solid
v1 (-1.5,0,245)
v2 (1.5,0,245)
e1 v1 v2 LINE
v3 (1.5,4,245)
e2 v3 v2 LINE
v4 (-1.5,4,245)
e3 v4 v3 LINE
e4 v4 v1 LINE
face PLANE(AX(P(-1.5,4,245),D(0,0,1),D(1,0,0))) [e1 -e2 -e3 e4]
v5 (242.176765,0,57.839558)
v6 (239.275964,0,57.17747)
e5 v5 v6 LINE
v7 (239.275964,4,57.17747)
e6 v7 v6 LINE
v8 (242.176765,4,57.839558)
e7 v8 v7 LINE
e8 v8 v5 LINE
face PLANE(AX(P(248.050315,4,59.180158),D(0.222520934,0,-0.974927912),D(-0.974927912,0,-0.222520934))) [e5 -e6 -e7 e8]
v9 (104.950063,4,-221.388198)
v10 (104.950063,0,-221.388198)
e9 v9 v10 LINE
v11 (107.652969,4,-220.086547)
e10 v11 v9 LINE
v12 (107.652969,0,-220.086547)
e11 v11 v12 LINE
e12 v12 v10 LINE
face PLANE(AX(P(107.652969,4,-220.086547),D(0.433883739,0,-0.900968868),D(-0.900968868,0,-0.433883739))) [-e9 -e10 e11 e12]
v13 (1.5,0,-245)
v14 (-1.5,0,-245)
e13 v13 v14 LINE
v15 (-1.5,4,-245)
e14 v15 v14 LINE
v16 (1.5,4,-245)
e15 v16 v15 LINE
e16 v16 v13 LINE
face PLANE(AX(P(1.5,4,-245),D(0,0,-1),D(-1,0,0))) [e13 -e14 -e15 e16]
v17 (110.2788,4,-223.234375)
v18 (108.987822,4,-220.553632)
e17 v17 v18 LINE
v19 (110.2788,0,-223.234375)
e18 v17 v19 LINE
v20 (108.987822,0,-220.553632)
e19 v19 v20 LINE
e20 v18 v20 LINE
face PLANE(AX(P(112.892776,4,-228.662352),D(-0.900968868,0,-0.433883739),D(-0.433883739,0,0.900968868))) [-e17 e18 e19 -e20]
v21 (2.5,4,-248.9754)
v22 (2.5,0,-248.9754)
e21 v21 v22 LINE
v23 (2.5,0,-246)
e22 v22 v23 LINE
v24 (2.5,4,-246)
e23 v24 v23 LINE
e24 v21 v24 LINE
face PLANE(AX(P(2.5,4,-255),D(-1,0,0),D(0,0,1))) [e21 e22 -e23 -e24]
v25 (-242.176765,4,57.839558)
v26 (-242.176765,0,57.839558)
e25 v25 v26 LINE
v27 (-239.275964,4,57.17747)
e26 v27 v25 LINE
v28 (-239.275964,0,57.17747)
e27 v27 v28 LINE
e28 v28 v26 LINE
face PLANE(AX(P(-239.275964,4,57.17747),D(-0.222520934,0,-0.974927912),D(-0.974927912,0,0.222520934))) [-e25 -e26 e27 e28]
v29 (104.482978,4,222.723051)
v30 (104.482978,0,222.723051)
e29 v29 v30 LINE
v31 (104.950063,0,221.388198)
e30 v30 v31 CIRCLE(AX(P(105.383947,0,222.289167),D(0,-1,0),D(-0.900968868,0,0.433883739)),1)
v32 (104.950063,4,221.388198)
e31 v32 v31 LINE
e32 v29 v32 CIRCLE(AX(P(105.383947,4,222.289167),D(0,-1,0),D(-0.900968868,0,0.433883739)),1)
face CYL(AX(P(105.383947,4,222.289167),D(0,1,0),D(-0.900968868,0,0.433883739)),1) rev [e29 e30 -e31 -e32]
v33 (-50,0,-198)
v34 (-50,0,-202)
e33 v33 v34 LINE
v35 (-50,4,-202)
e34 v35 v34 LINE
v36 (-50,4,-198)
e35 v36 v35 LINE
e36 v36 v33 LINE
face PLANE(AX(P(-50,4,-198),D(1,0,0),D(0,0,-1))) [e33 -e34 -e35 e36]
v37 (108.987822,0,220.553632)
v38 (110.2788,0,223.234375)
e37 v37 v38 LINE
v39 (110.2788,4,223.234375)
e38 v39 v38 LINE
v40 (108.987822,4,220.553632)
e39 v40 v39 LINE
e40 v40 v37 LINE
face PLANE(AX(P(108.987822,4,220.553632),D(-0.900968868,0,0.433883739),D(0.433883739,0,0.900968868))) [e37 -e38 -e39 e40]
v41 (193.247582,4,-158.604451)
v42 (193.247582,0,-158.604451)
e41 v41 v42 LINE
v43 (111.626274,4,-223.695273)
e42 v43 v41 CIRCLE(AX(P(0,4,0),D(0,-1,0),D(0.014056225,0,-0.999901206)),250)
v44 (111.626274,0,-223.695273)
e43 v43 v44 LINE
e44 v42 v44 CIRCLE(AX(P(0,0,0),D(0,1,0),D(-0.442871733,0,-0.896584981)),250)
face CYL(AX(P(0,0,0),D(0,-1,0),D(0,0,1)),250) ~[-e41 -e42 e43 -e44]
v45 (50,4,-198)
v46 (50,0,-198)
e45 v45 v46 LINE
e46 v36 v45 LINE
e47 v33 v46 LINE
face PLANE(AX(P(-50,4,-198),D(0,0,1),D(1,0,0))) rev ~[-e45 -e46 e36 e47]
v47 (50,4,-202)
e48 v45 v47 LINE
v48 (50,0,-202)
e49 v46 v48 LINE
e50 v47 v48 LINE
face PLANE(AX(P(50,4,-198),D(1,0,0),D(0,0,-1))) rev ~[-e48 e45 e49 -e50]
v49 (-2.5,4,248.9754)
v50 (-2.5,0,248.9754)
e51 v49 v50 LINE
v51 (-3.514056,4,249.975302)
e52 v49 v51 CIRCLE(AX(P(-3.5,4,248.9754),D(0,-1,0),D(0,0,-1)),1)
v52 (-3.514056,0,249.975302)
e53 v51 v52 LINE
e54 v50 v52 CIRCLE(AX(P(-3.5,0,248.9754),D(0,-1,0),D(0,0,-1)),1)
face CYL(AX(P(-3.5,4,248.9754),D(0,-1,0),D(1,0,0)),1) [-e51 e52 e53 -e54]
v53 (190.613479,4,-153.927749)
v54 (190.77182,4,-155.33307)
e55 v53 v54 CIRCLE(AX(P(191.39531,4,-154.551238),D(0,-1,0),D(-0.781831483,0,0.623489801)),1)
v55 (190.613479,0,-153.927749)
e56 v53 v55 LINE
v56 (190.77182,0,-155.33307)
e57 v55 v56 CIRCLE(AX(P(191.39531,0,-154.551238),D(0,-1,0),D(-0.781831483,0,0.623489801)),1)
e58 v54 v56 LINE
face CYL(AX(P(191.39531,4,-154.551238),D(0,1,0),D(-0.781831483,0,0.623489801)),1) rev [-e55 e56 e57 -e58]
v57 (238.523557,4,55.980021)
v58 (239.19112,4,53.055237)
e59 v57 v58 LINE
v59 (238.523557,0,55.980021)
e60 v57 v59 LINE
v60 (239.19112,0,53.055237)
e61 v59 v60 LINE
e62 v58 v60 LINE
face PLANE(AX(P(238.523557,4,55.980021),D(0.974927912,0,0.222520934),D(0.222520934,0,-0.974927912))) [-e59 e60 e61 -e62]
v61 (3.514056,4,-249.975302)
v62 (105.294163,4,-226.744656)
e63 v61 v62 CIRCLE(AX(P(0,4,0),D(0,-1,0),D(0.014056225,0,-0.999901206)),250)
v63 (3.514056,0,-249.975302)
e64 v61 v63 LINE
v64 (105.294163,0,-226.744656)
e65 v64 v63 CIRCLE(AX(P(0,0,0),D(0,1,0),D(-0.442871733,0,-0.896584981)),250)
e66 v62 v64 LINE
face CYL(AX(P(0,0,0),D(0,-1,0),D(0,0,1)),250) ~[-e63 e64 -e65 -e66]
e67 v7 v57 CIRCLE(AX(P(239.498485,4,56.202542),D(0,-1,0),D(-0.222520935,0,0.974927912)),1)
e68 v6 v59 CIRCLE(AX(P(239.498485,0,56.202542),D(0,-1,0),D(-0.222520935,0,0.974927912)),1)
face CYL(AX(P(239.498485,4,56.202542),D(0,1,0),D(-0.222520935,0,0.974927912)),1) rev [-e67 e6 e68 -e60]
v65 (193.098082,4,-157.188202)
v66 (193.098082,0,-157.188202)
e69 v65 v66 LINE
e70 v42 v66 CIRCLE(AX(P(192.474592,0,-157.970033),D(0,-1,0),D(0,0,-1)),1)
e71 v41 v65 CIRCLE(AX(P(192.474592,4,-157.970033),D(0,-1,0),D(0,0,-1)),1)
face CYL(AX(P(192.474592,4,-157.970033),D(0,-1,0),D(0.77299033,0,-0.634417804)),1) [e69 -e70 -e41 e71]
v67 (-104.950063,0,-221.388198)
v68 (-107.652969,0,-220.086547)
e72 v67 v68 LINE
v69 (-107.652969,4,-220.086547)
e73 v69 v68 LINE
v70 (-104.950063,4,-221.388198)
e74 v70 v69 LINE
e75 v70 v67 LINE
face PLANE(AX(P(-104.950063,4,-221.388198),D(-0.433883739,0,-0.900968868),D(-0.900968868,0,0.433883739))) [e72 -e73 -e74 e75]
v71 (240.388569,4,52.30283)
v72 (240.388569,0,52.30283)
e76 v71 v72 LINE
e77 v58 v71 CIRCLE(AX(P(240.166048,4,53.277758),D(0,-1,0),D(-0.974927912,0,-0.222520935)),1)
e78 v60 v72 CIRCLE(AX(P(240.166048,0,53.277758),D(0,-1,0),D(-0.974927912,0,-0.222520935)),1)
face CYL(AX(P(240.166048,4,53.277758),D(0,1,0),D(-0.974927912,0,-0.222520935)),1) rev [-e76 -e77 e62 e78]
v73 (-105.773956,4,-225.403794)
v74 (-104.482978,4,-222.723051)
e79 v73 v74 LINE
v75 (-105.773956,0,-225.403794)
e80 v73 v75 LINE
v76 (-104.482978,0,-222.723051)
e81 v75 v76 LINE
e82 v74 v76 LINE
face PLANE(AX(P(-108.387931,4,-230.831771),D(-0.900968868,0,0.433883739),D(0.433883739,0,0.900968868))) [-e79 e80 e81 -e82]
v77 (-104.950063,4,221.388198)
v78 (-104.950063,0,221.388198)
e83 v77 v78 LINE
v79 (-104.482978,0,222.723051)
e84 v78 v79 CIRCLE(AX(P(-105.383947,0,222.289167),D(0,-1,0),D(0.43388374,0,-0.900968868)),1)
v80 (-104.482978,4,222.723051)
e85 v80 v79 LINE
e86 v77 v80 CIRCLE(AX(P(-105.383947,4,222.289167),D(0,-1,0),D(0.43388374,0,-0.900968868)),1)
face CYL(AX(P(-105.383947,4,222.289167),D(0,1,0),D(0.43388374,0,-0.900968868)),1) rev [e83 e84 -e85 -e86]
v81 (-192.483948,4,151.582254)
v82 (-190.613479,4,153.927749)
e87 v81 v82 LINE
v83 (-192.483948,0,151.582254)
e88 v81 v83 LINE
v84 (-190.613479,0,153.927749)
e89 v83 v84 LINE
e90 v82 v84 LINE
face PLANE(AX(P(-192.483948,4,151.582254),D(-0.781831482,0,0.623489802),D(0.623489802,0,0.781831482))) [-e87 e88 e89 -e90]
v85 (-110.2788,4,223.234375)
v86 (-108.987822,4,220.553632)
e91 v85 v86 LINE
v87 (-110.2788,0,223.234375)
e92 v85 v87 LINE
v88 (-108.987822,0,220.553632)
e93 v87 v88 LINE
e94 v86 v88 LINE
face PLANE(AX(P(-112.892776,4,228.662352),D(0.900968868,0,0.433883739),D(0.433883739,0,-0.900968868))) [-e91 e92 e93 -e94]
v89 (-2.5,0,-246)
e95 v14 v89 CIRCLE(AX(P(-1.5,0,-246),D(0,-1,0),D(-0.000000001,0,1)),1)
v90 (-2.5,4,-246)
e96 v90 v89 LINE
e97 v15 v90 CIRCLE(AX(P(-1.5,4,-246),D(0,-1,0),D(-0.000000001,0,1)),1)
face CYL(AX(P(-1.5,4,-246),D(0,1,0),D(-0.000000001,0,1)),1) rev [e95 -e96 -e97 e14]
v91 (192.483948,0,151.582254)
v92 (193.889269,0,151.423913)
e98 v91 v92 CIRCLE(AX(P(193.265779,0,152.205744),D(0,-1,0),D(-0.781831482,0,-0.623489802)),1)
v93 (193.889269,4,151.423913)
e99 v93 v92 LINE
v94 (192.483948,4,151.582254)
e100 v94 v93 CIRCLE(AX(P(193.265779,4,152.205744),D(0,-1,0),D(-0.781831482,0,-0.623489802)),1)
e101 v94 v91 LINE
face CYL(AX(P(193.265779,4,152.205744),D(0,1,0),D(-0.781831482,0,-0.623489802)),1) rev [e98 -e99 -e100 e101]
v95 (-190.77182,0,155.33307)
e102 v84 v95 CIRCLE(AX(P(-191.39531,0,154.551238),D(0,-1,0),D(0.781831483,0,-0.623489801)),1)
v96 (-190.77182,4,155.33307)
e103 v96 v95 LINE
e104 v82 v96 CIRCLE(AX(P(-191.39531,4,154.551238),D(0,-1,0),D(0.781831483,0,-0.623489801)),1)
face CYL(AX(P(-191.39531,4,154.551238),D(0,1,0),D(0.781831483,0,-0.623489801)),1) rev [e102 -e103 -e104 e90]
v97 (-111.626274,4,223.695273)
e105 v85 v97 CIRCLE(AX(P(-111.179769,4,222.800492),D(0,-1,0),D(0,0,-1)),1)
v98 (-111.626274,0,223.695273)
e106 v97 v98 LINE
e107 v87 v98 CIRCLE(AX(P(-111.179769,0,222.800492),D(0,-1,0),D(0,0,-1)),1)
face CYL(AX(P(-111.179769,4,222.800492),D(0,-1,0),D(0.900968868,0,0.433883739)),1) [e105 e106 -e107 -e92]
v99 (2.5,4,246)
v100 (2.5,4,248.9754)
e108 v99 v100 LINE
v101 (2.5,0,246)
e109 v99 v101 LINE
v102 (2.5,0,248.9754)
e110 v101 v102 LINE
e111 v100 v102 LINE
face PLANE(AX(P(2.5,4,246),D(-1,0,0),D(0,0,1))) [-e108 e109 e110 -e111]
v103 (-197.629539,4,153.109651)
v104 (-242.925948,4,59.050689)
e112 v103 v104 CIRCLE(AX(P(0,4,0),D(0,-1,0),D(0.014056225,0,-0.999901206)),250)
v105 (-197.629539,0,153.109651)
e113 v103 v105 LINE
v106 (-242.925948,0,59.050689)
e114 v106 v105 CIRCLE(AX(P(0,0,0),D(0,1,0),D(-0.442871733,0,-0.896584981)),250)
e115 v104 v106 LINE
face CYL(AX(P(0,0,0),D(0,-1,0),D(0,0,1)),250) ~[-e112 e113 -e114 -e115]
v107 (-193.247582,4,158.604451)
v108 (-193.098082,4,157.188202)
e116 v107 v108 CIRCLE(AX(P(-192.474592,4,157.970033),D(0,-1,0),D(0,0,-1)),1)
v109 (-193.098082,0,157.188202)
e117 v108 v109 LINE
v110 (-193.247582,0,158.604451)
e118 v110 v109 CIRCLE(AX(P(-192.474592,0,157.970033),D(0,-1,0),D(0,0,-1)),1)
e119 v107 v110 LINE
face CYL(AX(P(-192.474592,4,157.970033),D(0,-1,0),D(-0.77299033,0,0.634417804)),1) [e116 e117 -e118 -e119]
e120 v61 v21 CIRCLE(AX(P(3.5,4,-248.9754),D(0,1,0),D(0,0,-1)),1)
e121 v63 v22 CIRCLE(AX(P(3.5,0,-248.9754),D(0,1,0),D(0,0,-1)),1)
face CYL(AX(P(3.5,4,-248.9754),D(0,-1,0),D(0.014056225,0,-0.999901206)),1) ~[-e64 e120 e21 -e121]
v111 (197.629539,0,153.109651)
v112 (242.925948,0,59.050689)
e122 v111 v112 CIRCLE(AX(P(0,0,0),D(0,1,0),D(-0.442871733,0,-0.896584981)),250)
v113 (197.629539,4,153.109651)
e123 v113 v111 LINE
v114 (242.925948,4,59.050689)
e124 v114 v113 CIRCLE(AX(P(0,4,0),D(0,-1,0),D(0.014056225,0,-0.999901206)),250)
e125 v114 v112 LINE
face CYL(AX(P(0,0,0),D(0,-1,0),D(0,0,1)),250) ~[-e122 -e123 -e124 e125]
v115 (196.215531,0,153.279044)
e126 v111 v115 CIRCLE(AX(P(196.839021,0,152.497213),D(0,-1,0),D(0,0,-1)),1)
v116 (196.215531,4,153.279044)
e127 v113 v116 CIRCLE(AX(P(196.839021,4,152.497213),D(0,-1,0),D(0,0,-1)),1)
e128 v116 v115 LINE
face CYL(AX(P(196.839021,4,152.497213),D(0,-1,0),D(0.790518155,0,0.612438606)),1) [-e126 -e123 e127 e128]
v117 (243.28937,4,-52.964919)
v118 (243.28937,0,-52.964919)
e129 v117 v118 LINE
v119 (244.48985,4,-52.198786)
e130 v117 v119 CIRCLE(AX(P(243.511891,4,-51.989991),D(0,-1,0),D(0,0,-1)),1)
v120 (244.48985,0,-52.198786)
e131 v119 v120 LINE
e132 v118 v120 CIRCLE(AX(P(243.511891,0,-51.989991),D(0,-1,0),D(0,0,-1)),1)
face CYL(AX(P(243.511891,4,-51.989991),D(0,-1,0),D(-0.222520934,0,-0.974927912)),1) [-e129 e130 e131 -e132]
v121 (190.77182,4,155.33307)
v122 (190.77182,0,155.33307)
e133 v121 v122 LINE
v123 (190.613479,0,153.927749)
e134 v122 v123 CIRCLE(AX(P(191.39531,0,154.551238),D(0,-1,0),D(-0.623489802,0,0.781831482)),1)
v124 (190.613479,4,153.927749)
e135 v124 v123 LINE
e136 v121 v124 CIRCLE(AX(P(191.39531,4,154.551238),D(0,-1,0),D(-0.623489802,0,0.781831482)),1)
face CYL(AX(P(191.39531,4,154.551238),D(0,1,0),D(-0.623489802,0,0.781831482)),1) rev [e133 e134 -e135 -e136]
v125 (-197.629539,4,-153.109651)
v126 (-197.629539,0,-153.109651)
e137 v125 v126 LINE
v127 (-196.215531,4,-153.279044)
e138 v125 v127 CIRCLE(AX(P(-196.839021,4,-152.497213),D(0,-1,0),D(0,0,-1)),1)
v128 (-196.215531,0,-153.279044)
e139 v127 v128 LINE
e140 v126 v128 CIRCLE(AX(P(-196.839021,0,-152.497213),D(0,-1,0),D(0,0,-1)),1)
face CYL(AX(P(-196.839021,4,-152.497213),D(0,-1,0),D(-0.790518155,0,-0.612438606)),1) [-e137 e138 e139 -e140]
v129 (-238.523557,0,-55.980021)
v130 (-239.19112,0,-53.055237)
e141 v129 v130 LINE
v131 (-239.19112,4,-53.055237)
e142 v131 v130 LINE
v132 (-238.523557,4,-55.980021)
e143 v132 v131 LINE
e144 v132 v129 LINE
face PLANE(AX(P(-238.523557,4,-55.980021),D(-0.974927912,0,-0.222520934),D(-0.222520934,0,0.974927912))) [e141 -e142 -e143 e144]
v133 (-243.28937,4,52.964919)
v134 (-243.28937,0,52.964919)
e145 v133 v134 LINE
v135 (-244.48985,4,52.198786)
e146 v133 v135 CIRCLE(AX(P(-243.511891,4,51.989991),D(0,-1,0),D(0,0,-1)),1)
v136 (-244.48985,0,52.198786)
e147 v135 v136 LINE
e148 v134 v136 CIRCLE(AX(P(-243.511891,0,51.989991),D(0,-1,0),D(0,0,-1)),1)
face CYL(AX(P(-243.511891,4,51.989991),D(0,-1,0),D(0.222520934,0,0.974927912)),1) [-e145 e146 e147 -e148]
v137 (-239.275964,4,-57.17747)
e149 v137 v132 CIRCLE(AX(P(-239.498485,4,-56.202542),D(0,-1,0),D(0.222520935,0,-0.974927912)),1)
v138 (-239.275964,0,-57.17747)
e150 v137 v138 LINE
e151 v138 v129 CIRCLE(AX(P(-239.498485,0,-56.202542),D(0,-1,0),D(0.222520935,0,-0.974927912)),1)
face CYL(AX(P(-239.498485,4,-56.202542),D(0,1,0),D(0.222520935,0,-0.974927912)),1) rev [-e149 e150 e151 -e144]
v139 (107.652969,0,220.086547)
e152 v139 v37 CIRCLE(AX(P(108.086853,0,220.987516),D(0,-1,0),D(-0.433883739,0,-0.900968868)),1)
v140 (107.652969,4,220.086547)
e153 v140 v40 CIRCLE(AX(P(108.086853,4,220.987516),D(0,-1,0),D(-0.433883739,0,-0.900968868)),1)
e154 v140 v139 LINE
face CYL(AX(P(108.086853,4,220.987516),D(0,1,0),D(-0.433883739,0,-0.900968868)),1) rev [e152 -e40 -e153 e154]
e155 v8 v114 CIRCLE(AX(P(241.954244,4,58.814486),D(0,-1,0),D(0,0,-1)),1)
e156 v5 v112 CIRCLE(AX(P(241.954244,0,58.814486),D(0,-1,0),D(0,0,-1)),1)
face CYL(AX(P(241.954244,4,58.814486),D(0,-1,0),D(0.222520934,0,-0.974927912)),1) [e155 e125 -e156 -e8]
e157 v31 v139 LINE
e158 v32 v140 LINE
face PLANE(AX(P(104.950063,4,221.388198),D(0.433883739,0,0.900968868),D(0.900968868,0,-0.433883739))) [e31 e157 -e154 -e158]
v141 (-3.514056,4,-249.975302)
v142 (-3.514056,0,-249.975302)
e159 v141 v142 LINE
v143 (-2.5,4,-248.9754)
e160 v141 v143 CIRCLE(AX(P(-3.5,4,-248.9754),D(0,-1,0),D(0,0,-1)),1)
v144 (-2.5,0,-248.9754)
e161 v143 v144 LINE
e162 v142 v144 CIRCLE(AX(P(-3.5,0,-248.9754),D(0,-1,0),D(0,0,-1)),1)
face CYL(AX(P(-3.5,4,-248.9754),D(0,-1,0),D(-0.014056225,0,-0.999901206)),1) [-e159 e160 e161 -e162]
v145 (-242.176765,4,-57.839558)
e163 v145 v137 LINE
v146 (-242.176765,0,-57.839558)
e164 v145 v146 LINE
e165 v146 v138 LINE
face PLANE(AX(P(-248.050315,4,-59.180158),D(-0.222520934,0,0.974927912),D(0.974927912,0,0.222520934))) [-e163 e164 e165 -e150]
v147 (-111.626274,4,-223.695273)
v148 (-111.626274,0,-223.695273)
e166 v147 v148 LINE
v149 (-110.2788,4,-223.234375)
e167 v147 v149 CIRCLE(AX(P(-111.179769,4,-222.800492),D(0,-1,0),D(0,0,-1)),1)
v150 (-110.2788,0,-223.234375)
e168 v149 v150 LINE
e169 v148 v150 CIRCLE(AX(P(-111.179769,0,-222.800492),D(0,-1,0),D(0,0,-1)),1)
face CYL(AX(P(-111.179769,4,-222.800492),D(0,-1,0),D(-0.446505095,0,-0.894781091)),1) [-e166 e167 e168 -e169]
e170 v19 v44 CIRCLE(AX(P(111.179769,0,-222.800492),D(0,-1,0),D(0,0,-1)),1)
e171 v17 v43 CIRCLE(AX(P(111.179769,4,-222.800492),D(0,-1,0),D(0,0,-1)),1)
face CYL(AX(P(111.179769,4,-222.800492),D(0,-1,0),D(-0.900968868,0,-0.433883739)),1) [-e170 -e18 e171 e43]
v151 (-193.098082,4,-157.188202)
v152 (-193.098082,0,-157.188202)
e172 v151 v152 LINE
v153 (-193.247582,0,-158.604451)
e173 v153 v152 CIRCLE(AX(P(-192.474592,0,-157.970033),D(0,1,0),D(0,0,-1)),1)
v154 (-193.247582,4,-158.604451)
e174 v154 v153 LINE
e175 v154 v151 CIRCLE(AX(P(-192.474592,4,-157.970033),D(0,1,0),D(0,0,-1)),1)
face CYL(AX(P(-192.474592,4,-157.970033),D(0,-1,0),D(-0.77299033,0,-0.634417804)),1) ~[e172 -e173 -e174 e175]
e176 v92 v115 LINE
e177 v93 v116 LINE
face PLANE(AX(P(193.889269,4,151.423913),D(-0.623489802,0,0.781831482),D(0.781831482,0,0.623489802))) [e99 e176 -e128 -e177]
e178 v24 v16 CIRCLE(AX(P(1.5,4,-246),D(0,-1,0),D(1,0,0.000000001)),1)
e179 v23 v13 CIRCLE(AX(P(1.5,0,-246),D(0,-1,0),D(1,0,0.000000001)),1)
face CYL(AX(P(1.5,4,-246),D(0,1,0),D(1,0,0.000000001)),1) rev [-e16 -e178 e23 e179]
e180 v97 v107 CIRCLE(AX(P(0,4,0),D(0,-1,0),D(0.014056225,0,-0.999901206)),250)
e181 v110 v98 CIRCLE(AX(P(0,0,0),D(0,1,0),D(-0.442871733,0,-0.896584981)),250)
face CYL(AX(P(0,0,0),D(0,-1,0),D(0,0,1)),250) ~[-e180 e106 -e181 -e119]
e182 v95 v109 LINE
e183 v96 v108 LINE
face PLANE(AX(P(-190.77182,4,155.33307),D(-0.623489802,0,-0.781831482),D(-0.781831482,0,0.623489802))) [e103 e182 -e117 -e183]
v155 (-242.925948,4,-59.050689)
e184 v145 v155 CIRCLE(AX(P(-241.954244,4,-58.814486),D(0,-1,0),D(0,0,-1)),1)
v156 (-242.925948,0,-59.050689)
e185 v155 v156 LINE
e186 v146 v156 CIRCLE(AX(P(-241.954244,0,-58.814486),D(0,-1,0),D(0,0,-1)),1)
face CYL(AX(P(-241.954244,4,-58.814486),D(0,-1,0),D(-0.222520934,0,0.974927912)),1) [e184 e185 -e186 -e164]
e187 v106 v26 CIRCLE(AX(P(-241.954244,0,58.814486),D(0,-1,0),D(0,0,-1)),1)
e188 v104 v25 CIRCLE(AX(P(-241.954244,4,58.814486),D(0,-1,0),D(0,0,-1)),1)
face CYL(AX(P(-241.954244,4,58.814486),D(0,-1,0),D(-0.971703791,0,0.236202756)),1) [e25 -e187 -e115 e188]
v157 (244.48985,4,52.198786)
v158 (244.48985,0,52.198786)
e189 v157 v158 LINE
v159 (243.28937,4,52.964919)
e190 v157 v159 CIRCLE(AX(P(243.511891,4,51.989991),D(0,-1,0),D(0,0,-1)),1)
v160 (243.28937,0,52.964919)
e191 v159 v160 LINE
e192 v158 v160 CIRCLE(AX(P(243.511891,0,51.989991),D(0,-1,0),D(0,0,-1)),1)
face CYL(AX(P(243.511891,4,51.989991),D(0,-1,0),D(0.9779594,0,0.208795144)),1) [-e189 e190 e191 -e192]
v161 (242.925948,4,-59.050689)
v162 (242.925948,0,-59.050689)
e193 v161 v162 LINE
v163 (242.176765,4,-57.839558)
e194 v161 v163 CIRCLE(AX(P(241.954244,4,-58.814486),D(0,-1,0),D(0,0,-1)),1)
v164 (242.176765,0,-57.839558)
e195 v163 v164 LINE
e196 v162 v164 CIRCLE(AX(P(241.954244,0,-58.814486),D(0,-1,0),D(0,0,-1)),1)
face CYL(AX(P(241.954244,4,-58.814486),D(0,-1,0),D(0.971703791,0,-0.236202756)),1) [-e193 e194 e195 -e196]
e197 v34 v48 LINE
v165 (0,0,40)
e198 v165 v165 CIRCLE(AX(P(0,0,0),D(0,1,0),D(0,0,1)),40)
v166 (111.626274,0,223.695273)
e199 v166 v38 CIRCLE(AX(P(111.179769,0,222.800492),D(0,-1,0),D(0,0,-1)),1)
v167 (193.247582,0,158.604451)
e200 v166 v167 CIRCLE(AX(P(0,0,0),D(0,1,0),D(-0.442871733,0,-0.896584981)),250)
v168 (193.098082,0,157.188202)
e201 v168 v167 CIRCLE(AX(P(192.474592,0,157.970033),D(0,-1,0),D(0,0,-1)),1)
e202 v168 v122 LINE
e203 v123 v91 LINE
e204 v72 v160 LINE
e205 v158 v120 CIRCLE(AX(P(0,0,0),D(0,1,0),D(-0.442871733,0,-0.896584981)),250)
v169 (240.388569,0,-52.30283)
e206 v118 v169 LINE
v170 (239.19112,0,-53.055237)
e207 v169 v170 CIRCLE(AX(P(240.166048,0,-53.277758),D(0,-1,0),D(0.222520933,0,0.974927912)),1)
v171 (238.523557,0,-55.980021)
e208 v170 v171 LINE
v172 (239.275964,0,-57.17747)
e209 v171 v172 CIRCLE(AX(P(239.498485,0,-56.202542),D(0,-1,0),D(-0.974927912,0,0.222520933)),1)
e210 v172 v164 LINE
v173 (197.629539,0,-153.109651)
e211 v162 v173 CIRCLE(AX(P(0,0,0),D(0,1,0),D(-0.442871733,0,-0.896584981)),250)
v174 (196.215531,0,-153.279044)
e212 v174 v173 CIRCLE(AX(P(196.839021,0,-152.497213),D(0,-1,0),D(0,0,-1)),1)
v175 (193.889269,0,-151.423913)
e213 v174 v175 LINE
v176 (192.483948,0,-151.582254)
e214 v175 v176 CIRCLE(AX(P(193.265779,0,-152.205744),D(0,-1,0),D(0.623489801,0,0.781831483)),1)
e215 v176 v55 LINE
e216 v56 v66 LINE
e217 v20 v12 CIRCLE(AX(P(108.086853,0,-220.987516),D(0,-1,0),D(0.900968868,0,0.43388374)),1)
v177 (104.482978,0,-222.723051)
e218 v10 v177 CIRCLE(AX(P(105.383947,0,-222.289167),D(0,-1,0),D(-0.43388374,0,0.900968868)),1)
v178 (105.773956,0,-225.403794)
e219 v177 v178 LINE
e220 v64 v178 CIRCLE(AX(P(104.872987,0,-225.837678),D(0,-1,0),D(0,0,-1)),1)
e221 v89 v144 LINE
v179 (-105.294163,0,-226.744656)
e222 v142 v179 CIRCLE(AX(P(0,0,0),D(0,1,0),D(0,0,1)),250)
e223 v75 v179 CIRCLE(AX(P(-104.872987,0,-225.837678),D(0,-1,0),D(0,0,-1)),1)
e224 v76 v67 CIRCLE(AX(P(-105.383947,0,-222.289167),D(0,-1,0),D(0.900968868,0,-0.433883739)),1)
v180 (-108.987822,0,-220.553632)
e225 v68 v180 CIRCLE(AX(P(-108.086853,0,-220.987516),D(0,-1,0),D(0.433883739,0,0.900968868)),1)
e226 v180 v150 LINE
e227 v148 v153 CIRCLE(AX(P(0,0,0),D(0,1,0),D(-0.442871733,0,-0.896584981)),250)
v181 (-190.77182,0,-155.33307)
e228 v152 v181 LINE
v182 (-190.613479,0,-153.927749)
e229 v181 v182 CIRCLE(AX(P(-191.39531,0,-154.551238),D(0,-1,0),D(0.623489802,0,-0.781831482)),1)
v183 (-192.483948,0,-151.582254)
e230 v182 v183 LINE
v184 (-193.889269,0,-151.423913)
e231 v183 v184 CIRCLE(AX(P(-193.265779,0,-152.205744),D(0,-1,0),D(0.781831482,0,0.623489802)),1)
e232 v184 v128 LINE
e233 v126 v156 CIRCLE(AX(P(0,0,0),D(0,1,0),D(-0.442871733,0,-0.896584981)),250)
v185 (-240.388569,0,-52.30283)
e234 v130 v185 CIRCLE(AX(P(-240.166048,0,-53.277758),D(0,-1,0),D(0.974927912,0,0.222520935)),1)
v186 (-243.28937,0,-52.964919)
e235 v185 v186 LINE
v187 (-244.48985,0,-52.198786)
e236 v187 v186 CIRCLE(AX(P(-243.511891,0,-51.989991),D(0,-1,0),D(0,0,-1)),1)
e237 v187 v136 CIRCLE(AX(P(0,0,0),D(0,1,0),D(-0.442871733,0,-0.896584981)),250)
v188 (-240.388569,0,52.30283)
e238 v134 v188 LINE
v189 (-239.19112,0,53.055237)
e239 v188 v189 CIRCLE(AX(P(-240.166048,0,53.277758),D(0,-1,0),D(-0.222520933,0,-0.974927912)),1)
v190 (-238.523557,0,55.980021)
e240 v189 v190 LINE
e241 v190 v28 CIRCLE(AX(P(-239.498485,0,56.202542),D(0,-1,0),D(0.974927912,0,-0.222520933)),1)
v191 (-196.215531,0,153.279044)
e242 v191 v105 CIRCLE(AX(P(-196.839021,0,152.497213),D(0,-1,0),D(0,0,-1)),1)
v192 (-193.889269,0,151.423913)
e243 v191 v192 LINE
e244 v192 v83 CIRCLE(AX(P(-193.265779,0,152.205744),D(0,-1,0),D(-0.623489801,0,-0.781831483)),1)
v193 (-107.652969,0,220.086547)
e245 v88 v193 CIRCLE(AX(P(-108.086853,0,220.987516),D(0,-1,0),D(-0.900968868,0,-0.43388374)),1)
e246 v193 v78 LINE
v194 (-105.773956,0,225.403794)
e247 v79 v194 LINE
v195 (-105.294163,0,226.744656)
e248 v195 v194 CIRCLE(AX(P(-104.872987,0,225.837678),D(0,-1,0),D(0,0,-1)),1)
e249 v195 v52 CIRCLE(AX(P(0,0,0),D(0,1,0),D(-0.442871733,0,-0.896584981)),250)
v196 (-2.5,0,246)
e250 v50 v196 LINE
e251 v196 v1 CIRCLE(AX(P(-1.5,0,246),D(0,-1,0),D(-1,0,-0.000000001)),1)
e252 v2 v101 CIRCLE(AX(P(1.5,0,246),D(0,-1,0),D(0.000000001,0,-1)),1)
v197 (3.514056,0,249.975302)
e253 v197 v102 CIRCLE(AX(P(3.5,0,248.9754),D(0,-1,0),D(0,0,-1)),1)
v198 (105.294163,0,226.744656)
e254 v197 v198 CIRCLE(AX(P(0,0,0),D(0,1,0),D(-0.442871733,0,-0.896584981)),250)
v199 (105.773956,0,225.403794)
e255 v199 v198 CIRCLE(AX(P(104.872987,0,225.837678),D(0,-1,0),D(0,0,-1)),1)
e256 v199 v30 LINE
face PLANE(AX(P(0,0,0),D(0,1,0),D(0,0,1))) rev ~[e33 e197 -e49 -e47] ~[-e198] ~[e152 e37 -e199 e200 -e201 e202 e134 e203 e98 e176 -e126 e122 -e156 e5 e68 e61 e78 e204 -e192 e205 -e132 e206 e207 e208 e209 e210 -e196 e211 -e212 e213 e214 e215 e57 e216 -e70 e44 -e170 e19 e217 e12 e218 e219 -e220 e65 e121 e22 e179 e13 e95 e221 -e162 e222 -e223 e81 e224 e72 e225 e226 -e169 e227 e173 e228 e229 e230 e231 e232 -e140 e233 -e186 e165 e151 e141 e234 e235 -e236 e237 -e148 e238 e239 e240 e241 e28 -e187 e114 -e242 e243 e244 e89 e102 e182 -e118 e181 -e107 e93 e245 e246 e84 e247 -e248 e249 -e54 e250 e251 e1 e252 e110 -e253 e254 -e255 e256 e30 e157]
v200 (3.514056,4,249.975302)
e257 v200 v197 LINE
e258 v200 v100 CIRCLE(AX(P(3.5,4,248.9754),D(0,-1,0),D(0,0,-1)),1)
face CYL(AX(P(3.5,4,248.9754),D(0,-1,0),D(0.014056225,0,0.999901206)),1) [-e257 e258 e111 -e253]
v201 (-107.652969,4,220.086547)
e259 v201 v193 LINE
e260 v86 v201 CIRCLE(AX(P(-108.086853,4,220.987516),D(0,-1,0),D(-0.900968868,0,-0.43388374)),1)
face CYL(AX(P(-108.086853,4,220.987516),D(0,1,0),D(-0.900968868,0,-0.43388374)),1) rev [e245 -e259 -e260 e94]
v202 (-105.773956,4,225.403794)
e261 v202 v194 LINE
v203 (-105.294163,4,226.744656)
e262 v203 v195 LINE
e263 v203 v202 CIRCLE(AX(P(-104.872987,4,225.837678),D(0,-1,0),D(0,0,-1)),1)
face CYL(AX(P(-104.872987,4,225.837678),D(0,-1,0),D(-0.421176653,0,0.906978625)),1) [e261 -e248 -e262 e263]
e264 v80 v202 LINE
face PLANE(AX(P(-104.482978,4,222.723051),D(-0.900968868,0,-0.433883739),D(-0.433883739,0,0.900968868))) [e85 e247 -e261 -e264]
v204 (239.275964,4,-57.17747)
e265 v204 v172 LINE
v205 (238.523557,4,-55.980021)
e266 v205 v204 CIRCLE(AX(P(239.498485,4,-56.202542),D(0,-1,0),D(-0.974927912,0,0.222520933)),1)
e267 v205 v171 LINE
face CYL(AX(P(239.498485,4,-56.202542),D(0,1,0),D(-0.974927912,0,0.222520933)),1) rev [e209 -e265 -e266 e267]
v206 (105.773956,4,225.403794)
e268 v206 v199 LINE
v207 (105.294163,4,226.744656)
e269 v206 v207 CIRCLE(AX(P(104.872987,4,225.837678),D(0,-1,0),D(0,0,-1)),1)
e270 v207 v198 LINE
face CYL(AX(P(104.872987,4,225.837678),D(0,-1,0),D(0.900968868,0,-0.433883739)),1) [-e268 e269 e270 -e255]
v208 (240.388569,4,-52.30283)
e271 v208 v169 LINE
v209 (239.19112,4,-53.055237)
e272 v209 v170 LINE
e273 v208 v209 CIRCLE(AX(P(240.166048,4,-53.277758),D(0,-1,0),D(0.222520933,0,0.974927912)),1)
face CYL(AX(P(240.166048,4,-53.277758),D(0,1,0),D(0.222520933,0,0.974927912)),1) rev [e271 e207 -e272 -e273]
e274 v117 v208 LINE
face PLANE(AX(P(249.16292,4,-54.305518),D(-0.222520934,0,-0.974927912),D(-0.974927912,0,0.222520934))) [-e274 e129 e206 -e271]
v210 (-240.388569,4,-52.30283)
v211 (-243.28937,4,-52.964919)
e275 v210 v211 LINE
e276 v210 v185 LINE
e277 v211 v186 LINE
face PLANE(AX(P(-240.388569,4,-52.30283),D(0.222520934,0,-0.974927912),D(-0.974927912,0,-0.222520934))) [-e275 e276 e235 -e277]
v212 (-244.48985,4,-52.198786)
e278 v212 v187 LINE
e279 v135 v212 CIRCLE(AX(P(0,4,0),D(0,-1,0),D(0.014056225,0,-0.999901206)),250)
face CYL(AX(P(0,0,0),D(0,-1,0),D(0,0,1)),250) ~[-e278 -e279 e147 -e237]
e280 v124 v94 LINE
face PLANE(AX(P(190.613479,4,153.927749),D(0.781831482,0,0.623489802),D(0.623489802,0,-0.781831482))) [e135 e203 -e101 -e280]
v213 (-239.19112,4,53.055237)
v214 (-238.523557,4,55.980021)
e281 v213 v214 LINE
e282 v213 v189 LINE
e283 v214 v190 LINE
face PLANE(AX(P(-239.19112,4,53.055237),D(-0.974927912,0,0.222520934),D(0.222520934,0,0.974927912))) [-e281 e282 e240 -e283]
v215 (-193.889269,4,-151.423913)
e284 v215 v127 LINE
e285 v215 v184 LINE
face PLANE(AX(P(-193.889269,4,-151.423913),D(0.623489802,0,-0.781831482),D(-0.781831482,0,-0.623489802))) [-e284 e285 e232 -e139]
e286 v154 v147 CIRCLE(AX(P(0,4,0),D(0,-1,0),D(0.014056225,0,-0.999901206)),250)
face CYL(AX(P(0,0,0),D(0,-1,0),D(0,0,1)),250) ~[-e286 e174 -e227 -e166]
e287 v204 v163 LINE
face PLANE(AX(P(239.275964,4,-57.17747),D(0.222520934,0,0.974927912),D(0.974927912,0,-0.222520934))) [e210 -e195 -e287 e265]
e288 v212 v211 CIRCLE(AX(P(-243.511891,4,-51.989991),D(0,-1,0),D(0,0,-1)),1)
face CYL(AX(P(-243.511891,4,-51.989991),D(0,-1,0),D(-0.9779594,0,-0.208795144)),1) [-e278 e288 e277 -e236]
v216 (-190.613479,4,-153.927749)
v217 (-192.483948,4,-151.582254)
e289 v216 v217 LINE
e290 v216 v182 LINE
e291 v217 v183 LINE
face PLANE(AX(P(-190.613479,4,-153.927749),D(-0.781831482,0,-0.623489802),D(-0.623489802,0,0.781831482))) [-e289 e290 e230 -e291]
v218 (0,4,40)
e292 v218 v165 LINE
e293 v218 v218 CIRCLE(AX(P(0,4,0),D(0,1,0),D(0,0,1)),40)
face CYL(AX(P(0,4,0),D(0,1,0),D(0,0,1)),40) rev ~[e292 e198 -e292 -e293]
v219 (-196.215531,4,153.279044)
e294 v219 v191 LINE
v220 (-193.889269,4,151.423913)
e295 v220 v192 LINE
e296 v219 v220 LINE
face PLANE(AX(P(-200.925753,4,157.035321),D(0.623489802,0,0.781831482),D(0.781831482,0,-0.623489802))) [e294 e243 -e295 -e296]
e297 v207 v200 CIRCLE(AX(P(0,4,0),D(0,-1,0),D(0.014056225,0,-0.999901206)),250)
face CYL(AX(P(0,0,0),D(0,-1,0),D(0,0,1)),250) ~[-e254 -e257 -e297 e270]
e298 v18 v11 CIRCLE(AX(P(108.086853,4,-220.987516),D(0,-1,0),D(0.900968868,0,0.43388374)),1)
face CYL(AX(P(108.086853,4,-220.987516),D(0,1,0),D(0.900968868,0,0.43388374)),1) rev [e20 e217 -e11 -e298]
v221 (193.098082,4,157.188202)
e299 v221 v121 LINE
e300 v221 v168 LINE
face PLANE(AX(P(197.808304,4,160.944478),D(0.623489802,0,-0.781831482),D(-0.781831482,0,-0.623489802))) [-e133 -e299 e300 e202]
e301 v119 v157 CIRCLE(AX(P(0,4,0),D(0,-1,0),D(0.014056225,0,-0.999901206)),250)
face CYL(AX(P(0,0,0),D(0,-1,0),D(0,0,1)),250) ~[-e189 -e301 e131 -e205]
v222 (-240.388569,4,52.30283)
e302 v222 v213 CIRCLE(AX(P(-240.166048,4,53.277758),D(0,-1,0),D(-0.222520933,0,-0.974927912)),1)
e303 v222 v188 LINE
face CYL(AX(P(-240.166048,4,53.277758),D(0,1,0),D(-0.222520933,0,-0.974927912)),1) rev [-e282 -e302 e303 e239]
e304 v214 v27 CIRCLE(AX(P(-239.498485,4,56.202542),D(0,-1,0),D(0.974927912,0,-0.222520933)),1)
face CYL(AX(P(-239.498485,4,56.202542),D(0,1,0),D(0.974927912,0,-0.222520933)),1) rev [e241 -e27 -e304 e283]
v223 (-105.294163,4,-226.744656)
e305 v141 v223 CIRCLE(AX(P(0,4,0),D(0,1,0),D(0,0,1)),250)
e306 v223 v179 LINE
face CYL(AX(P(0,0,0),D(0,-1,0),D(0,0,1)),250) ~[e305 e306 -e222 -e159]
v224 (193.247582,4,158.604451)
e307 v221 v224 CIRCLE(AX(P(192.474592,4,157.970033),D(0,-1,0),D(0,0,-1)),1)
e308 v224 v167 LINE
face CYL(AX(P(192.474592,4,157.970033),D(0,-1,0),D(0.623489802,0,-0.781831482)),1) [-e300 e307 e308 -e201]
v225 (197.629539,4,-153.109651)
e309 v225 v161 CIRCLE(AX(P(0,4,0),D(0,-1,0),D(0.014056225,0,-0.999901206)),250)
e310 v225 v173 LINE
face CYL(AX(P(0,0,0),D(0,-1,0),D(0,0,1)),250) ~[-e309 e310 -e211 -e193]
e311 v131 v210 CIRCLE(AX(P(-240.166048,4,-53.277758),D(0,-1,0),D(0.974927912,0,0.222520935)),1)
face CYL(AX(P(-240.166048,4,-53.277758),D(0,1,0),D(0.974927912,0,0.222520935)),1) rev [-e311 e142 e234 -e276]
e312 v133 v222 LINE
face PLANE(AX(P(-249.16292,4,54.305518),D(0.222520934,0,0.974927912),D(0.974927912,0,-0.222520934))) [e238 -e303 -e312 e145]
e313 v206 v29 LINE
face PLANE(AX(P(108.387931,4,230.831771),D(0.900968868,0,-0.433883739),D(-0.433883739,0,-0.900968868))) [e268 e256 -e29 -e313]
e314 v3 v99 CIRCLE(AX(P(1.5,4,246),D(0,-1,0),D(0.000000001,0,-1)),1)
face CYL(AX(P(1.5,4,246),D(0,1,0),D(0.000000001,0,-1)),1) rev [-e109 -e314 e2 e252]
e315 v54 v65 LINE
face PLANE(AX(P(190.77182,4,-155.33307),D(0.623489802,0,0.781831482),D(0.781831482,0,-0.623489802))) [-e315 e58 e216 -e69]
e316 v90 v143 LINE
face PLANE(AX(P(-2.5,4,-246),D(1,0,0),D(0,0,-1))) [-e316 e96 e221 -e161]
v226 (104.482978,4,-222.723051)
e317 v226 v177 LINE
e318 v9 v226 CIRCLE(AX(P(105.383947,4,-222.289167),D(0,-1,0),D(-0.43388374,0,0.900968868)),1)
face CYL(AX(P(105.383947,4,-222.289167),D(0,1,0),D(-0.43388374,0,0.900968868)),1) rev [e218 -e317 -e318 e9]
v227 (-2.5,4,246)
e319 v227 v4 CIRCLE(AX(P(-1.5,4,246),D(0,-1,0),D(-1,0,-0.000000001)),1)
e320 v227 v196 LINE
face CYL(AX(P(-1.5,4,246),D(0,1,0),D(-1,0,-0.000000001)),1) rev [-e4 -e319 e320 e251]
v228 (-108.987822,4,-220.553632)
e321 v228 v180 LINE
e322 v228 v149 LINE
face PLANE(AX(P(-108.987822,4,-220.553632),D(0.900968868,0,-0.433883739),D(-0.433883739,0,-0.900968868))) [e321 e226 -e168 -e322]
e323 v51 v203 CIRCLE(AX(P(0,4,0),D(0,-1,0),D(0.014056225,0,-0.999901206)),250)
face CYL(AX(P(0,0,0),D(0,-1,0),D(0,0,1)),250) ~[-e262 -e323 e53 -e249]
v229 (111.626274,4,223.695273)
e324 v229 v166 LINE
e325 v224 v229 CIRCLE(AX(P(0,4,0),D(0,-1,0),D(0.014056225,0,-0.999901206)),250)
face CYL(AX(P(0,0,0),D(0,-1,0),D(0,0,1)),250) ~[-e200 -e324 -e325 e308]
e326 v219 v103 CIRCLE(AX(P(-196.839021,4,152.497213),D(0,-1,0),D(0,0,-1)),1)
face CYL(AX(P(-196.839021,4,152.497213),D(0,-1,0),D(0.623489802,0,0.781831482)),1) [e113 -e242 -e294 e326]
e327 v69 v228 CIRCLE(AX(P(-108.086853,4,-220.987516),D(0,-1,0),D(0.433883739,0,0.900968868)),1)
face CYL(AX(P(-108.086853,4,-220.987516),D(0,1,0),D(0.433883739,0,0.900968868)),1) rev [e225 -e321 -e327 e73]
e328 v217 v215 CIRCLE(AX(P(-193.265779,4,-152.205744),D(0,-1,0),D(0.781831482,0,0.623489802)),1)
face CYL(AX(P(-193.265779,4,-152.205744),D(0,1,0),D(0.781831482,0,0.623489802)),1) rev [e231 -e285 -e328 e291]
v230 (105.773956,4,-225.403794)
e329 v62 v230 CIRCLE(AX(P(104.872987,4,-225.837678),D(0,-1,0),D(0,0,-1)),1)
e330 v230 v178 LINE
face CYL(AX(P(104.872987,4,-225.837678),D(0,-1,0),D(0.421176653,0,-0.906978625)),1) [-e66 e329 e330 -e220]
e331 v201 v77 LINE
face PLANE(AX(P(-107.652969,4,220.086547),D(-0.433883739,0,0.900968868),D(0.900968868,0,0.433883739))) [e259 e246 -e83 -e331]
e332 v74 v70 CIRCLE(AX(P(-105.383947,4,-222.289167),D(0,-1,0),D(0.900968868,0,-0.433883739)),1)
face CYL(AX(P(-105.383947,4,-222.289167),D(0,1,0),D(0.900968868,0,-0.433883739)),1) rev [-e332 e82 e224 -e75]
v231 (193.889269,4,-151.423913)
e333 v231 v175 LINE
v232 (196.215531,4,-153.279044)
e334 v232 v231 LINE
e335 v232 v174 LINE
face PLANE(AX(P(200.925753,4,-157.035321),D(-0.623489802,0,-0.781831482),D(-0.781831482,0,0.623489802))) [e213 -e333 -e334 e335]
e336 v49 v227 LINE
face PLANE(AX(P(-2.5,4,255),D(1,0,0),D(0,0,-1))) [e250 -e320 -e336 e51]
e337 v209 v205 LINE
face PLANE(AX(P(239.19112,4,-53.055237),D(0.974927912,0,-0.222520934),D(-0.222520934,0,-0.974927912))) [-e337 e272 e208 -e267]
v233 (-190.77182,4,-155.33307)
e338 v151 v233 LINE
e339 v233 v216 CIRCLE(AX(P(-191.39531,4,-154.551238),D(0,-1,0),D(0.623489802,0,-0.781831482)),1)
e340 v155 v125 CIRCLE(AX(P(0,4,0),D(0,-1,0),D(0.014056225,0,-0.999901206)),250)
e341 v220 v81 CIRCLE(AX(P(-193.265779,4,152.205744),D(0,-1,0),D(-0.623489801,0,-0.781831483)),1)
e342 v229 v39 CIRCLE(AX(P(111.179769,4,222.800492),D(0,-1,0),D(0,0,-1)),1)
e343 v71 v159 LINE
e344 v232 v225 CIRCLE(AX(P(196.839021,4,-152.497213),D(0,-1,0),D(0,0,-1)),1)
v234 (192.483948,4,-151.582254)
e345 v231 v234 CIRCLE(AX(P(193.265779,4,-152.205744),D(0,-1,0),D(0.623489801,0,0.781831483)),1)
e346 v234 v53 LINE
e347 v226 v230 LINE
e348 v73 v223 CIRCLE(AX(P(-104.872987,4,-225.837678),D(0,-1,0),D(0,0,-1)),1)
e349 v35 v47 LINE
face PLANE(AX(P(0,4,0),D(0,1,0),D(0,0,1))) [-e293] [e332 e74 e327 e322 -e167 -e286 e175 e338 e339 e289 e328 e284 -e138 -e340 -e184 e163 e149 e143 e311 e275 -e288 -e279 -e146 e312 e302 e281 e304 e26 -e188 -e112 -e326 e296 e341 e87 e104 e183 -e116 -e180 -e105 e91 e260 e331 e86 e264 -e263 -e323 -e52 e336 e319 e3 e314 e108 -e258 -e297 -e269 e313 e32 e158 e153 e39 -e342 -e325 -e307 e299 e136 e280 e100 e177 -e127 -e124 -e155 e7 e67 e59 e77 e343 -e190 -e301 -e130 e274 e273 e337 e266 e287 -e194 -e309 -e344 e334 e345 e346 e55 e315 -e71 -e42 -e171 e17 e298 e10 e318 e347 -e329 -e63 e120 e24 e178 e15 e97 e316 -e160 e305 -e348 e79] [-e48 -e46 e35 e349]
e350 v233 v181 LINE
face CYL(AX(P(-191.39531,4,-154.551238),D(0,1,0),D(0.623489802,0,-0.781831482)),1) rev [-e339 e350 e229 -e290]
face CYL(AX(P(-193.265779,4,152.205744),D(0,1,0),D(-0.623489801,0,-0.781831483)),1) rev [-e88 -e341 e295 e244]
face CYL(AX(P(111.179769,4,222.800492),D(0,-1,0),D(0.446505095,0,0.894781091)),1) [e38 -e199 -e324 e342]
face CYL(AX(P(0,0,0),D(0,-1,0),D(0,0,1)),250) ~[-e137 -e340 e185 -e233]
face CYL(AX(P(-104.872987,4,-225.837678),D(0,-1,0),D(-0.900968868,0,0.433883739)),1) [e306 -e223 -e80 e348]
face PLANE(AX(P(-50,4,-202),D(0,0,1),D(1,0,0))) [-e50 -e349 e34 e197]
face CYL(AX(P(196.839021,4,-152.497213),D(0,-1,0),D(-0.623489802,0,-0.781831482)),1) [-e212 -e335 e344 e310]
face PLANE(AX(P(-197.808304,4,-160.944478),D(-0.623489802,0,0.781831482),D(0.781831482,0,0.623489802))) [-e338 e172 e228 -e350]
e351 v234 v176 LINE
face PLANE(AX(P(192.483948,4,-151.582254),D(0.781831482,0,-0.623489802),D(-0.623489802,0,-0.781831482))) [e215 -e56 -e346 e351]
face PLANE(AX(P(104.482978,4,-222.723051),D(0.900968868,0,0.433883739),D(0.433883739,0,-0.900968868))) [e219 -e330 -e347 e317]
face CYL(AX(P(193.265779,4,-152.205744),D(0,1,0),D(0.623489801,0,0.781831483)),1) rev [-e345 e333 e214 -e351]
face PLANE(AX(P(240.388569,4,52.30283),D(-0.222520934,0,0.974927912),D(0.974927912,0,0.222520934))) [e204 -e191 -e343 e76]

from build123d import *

# Parameters (mm, degrees)
SKETCH1_R                = 250
BOSS_EXTRUDE1_DEPTH      = 4
CUT_EXTRUDE5_DEPTH       = 4
FILLET1_R                = 1
CIRPATTERN1_COUNT        = 14
FILLET1_OF_CIRPATTERN1_R = 1
SKETCH12_R               = 40
CUT_EXTRUDE6_DEPTH       = 10
SKETCH16_W               = 100
SKETCH16_H               = 4
CUT_EXTRUDE10_DEPTH      = 100


with BuildPart() as part:
    # Sketch1 → Boss-Extrude1 (new body)
    with BuildSketch(Plane(origin=(0, 0, 0), x_dir=(1, 0, 0), z_dir=(0, 1, 0))):
        with Locations(Location((0, 0, 0), (0, 0, 270))):
            Circle(SKETCH1_R)
    extrude(amount=BOSS_EXTRUDE1_DEPTH)

    # Sketch11 → Cut-Extrude5 (cut)
    with BuildSketch(Plane(origin=(0, 4, 0), x_dir=(1, 0, 0), z_dir=(0, 1, 0))):
        with BuildLine():
            Line((1.5, 245), (-1.5, 245))
            ThreePointArc((-1.5, 245), (-2.207106781, 245.292893219), (-2.5, 246))
            Line((-2.5, 246), (-2.5, 255))
            Line((-2.5, 255), (2.5, 255))
            Line((2.5, 255), (2.5, 246))
            ThreePointArc((2.5, 246), (2.207106781, 245.292893219), (1.5, 245))
        make_face()
    cut_extrude5 = extrude(amount=-CUT_EXTRUDE5_DEPTH, mode=Mode.SUBTRACT)

    # Fillet1
    fillet1_edges = [part.edges().sort_by_distance(p)[0] for p in [
        (-2.5, 2, -249.987499687),
        (2.5, 2, -249.987499687),
    ]]
    fillet(fillet1_edges, radius=FILLET1_R)

    # CirPattern1: Cut-Extrude5 ×14 about axis
    cirpattern1_axis = Axis((0, 0, 0), (0, 1, 0))
    for i in range(1, CIRPATTERN1_COUNT):
        add(cut_extrude5.rotate(cirpattern1_axis, i * 360 / CIRPATTERN1_COUNT), mode=Mode.SUBTRACT)

    # Fillet1 of CirPattern1
    fillet1_of_cirpattern1_edges = [part.edges().sort_by_distance(p)[0] for p in [
        (-110.717933267, 2, -224.146245235),
        (-106.213088927, 2, -226.315663931),
        (-197.006821984, 2, -153.910077941),
        (-193.889372974, 2, -157.819235353),
        (-244.276093477, 2, -53.190132127),
        (-243.163488807, 2, -58.064771688),
        (-243.163488807, 2, 58.064771688),
        (-244.276093477, 2, 53.190132127),
        (-193.889372974, 2, 157.819235353),
        (-197.006821984, 2, 153.910077941),
        (-106.213088927, 2, 226.315663931),
        (-110.717933267, 2, 224.146245235),
        (2.5, 2, 249.987499687),
        (-2.5, 2, 249.987499687),
        (110.717933267, 2, 224.146245235),
        (106.213088927, 2, 226.315663931),
        (197.006821984, 2, 153.910077941),
        (193.889372974, 2, 157.819235353),
        (244.276093477, 2, 53.190132127),
        (243.163488807, 2, 58.064771688),
        (243.163488807, 2, -58.064771688),
        (244.276093477, 2, -53.190132127),
        (193.889372974, 2, -157.819235353),
        (197.006821984, 2, -153.910077941),
        (106.213088927, 2, -226.315663931),
        (110.717933267, 2, -224.146245235),
    ]]
    fillet(fillet1_of_cirpattern1_edges, radius=FILLET1_OF_CIRPATTERN1_R)

    # Sketch12 → Cut-Extrude6 (cut)
    with BuildSketch(Plane(origin=(0, 4, 0), x_dir=(1, 0, 0), z_dir=(0, 1, 0))):
        with Locations(Location((0, 0, 0), (0, 0, 270))):
            Circle(SKETCH12_R)
    extrude(amount=-CUT_EXTRUDE6_DEPTH, mode=Mode.SUBTRACT)

    # Sketch16 → Cut-Extrude10 (cut)
    with BuildSketch(Plane(origin=(0, 4, 0), x_dir=(1, 0, 0), z_dir=(0, 1, 0))):
        with Locations((0, 200)):
            Rectangle(SKETCH16_W, SKETCH16_H)
    extrude(amount=-CUT_EXTRUDE10_DEPTH, mode=Mode.SUBTRACT)


solid = part.part
